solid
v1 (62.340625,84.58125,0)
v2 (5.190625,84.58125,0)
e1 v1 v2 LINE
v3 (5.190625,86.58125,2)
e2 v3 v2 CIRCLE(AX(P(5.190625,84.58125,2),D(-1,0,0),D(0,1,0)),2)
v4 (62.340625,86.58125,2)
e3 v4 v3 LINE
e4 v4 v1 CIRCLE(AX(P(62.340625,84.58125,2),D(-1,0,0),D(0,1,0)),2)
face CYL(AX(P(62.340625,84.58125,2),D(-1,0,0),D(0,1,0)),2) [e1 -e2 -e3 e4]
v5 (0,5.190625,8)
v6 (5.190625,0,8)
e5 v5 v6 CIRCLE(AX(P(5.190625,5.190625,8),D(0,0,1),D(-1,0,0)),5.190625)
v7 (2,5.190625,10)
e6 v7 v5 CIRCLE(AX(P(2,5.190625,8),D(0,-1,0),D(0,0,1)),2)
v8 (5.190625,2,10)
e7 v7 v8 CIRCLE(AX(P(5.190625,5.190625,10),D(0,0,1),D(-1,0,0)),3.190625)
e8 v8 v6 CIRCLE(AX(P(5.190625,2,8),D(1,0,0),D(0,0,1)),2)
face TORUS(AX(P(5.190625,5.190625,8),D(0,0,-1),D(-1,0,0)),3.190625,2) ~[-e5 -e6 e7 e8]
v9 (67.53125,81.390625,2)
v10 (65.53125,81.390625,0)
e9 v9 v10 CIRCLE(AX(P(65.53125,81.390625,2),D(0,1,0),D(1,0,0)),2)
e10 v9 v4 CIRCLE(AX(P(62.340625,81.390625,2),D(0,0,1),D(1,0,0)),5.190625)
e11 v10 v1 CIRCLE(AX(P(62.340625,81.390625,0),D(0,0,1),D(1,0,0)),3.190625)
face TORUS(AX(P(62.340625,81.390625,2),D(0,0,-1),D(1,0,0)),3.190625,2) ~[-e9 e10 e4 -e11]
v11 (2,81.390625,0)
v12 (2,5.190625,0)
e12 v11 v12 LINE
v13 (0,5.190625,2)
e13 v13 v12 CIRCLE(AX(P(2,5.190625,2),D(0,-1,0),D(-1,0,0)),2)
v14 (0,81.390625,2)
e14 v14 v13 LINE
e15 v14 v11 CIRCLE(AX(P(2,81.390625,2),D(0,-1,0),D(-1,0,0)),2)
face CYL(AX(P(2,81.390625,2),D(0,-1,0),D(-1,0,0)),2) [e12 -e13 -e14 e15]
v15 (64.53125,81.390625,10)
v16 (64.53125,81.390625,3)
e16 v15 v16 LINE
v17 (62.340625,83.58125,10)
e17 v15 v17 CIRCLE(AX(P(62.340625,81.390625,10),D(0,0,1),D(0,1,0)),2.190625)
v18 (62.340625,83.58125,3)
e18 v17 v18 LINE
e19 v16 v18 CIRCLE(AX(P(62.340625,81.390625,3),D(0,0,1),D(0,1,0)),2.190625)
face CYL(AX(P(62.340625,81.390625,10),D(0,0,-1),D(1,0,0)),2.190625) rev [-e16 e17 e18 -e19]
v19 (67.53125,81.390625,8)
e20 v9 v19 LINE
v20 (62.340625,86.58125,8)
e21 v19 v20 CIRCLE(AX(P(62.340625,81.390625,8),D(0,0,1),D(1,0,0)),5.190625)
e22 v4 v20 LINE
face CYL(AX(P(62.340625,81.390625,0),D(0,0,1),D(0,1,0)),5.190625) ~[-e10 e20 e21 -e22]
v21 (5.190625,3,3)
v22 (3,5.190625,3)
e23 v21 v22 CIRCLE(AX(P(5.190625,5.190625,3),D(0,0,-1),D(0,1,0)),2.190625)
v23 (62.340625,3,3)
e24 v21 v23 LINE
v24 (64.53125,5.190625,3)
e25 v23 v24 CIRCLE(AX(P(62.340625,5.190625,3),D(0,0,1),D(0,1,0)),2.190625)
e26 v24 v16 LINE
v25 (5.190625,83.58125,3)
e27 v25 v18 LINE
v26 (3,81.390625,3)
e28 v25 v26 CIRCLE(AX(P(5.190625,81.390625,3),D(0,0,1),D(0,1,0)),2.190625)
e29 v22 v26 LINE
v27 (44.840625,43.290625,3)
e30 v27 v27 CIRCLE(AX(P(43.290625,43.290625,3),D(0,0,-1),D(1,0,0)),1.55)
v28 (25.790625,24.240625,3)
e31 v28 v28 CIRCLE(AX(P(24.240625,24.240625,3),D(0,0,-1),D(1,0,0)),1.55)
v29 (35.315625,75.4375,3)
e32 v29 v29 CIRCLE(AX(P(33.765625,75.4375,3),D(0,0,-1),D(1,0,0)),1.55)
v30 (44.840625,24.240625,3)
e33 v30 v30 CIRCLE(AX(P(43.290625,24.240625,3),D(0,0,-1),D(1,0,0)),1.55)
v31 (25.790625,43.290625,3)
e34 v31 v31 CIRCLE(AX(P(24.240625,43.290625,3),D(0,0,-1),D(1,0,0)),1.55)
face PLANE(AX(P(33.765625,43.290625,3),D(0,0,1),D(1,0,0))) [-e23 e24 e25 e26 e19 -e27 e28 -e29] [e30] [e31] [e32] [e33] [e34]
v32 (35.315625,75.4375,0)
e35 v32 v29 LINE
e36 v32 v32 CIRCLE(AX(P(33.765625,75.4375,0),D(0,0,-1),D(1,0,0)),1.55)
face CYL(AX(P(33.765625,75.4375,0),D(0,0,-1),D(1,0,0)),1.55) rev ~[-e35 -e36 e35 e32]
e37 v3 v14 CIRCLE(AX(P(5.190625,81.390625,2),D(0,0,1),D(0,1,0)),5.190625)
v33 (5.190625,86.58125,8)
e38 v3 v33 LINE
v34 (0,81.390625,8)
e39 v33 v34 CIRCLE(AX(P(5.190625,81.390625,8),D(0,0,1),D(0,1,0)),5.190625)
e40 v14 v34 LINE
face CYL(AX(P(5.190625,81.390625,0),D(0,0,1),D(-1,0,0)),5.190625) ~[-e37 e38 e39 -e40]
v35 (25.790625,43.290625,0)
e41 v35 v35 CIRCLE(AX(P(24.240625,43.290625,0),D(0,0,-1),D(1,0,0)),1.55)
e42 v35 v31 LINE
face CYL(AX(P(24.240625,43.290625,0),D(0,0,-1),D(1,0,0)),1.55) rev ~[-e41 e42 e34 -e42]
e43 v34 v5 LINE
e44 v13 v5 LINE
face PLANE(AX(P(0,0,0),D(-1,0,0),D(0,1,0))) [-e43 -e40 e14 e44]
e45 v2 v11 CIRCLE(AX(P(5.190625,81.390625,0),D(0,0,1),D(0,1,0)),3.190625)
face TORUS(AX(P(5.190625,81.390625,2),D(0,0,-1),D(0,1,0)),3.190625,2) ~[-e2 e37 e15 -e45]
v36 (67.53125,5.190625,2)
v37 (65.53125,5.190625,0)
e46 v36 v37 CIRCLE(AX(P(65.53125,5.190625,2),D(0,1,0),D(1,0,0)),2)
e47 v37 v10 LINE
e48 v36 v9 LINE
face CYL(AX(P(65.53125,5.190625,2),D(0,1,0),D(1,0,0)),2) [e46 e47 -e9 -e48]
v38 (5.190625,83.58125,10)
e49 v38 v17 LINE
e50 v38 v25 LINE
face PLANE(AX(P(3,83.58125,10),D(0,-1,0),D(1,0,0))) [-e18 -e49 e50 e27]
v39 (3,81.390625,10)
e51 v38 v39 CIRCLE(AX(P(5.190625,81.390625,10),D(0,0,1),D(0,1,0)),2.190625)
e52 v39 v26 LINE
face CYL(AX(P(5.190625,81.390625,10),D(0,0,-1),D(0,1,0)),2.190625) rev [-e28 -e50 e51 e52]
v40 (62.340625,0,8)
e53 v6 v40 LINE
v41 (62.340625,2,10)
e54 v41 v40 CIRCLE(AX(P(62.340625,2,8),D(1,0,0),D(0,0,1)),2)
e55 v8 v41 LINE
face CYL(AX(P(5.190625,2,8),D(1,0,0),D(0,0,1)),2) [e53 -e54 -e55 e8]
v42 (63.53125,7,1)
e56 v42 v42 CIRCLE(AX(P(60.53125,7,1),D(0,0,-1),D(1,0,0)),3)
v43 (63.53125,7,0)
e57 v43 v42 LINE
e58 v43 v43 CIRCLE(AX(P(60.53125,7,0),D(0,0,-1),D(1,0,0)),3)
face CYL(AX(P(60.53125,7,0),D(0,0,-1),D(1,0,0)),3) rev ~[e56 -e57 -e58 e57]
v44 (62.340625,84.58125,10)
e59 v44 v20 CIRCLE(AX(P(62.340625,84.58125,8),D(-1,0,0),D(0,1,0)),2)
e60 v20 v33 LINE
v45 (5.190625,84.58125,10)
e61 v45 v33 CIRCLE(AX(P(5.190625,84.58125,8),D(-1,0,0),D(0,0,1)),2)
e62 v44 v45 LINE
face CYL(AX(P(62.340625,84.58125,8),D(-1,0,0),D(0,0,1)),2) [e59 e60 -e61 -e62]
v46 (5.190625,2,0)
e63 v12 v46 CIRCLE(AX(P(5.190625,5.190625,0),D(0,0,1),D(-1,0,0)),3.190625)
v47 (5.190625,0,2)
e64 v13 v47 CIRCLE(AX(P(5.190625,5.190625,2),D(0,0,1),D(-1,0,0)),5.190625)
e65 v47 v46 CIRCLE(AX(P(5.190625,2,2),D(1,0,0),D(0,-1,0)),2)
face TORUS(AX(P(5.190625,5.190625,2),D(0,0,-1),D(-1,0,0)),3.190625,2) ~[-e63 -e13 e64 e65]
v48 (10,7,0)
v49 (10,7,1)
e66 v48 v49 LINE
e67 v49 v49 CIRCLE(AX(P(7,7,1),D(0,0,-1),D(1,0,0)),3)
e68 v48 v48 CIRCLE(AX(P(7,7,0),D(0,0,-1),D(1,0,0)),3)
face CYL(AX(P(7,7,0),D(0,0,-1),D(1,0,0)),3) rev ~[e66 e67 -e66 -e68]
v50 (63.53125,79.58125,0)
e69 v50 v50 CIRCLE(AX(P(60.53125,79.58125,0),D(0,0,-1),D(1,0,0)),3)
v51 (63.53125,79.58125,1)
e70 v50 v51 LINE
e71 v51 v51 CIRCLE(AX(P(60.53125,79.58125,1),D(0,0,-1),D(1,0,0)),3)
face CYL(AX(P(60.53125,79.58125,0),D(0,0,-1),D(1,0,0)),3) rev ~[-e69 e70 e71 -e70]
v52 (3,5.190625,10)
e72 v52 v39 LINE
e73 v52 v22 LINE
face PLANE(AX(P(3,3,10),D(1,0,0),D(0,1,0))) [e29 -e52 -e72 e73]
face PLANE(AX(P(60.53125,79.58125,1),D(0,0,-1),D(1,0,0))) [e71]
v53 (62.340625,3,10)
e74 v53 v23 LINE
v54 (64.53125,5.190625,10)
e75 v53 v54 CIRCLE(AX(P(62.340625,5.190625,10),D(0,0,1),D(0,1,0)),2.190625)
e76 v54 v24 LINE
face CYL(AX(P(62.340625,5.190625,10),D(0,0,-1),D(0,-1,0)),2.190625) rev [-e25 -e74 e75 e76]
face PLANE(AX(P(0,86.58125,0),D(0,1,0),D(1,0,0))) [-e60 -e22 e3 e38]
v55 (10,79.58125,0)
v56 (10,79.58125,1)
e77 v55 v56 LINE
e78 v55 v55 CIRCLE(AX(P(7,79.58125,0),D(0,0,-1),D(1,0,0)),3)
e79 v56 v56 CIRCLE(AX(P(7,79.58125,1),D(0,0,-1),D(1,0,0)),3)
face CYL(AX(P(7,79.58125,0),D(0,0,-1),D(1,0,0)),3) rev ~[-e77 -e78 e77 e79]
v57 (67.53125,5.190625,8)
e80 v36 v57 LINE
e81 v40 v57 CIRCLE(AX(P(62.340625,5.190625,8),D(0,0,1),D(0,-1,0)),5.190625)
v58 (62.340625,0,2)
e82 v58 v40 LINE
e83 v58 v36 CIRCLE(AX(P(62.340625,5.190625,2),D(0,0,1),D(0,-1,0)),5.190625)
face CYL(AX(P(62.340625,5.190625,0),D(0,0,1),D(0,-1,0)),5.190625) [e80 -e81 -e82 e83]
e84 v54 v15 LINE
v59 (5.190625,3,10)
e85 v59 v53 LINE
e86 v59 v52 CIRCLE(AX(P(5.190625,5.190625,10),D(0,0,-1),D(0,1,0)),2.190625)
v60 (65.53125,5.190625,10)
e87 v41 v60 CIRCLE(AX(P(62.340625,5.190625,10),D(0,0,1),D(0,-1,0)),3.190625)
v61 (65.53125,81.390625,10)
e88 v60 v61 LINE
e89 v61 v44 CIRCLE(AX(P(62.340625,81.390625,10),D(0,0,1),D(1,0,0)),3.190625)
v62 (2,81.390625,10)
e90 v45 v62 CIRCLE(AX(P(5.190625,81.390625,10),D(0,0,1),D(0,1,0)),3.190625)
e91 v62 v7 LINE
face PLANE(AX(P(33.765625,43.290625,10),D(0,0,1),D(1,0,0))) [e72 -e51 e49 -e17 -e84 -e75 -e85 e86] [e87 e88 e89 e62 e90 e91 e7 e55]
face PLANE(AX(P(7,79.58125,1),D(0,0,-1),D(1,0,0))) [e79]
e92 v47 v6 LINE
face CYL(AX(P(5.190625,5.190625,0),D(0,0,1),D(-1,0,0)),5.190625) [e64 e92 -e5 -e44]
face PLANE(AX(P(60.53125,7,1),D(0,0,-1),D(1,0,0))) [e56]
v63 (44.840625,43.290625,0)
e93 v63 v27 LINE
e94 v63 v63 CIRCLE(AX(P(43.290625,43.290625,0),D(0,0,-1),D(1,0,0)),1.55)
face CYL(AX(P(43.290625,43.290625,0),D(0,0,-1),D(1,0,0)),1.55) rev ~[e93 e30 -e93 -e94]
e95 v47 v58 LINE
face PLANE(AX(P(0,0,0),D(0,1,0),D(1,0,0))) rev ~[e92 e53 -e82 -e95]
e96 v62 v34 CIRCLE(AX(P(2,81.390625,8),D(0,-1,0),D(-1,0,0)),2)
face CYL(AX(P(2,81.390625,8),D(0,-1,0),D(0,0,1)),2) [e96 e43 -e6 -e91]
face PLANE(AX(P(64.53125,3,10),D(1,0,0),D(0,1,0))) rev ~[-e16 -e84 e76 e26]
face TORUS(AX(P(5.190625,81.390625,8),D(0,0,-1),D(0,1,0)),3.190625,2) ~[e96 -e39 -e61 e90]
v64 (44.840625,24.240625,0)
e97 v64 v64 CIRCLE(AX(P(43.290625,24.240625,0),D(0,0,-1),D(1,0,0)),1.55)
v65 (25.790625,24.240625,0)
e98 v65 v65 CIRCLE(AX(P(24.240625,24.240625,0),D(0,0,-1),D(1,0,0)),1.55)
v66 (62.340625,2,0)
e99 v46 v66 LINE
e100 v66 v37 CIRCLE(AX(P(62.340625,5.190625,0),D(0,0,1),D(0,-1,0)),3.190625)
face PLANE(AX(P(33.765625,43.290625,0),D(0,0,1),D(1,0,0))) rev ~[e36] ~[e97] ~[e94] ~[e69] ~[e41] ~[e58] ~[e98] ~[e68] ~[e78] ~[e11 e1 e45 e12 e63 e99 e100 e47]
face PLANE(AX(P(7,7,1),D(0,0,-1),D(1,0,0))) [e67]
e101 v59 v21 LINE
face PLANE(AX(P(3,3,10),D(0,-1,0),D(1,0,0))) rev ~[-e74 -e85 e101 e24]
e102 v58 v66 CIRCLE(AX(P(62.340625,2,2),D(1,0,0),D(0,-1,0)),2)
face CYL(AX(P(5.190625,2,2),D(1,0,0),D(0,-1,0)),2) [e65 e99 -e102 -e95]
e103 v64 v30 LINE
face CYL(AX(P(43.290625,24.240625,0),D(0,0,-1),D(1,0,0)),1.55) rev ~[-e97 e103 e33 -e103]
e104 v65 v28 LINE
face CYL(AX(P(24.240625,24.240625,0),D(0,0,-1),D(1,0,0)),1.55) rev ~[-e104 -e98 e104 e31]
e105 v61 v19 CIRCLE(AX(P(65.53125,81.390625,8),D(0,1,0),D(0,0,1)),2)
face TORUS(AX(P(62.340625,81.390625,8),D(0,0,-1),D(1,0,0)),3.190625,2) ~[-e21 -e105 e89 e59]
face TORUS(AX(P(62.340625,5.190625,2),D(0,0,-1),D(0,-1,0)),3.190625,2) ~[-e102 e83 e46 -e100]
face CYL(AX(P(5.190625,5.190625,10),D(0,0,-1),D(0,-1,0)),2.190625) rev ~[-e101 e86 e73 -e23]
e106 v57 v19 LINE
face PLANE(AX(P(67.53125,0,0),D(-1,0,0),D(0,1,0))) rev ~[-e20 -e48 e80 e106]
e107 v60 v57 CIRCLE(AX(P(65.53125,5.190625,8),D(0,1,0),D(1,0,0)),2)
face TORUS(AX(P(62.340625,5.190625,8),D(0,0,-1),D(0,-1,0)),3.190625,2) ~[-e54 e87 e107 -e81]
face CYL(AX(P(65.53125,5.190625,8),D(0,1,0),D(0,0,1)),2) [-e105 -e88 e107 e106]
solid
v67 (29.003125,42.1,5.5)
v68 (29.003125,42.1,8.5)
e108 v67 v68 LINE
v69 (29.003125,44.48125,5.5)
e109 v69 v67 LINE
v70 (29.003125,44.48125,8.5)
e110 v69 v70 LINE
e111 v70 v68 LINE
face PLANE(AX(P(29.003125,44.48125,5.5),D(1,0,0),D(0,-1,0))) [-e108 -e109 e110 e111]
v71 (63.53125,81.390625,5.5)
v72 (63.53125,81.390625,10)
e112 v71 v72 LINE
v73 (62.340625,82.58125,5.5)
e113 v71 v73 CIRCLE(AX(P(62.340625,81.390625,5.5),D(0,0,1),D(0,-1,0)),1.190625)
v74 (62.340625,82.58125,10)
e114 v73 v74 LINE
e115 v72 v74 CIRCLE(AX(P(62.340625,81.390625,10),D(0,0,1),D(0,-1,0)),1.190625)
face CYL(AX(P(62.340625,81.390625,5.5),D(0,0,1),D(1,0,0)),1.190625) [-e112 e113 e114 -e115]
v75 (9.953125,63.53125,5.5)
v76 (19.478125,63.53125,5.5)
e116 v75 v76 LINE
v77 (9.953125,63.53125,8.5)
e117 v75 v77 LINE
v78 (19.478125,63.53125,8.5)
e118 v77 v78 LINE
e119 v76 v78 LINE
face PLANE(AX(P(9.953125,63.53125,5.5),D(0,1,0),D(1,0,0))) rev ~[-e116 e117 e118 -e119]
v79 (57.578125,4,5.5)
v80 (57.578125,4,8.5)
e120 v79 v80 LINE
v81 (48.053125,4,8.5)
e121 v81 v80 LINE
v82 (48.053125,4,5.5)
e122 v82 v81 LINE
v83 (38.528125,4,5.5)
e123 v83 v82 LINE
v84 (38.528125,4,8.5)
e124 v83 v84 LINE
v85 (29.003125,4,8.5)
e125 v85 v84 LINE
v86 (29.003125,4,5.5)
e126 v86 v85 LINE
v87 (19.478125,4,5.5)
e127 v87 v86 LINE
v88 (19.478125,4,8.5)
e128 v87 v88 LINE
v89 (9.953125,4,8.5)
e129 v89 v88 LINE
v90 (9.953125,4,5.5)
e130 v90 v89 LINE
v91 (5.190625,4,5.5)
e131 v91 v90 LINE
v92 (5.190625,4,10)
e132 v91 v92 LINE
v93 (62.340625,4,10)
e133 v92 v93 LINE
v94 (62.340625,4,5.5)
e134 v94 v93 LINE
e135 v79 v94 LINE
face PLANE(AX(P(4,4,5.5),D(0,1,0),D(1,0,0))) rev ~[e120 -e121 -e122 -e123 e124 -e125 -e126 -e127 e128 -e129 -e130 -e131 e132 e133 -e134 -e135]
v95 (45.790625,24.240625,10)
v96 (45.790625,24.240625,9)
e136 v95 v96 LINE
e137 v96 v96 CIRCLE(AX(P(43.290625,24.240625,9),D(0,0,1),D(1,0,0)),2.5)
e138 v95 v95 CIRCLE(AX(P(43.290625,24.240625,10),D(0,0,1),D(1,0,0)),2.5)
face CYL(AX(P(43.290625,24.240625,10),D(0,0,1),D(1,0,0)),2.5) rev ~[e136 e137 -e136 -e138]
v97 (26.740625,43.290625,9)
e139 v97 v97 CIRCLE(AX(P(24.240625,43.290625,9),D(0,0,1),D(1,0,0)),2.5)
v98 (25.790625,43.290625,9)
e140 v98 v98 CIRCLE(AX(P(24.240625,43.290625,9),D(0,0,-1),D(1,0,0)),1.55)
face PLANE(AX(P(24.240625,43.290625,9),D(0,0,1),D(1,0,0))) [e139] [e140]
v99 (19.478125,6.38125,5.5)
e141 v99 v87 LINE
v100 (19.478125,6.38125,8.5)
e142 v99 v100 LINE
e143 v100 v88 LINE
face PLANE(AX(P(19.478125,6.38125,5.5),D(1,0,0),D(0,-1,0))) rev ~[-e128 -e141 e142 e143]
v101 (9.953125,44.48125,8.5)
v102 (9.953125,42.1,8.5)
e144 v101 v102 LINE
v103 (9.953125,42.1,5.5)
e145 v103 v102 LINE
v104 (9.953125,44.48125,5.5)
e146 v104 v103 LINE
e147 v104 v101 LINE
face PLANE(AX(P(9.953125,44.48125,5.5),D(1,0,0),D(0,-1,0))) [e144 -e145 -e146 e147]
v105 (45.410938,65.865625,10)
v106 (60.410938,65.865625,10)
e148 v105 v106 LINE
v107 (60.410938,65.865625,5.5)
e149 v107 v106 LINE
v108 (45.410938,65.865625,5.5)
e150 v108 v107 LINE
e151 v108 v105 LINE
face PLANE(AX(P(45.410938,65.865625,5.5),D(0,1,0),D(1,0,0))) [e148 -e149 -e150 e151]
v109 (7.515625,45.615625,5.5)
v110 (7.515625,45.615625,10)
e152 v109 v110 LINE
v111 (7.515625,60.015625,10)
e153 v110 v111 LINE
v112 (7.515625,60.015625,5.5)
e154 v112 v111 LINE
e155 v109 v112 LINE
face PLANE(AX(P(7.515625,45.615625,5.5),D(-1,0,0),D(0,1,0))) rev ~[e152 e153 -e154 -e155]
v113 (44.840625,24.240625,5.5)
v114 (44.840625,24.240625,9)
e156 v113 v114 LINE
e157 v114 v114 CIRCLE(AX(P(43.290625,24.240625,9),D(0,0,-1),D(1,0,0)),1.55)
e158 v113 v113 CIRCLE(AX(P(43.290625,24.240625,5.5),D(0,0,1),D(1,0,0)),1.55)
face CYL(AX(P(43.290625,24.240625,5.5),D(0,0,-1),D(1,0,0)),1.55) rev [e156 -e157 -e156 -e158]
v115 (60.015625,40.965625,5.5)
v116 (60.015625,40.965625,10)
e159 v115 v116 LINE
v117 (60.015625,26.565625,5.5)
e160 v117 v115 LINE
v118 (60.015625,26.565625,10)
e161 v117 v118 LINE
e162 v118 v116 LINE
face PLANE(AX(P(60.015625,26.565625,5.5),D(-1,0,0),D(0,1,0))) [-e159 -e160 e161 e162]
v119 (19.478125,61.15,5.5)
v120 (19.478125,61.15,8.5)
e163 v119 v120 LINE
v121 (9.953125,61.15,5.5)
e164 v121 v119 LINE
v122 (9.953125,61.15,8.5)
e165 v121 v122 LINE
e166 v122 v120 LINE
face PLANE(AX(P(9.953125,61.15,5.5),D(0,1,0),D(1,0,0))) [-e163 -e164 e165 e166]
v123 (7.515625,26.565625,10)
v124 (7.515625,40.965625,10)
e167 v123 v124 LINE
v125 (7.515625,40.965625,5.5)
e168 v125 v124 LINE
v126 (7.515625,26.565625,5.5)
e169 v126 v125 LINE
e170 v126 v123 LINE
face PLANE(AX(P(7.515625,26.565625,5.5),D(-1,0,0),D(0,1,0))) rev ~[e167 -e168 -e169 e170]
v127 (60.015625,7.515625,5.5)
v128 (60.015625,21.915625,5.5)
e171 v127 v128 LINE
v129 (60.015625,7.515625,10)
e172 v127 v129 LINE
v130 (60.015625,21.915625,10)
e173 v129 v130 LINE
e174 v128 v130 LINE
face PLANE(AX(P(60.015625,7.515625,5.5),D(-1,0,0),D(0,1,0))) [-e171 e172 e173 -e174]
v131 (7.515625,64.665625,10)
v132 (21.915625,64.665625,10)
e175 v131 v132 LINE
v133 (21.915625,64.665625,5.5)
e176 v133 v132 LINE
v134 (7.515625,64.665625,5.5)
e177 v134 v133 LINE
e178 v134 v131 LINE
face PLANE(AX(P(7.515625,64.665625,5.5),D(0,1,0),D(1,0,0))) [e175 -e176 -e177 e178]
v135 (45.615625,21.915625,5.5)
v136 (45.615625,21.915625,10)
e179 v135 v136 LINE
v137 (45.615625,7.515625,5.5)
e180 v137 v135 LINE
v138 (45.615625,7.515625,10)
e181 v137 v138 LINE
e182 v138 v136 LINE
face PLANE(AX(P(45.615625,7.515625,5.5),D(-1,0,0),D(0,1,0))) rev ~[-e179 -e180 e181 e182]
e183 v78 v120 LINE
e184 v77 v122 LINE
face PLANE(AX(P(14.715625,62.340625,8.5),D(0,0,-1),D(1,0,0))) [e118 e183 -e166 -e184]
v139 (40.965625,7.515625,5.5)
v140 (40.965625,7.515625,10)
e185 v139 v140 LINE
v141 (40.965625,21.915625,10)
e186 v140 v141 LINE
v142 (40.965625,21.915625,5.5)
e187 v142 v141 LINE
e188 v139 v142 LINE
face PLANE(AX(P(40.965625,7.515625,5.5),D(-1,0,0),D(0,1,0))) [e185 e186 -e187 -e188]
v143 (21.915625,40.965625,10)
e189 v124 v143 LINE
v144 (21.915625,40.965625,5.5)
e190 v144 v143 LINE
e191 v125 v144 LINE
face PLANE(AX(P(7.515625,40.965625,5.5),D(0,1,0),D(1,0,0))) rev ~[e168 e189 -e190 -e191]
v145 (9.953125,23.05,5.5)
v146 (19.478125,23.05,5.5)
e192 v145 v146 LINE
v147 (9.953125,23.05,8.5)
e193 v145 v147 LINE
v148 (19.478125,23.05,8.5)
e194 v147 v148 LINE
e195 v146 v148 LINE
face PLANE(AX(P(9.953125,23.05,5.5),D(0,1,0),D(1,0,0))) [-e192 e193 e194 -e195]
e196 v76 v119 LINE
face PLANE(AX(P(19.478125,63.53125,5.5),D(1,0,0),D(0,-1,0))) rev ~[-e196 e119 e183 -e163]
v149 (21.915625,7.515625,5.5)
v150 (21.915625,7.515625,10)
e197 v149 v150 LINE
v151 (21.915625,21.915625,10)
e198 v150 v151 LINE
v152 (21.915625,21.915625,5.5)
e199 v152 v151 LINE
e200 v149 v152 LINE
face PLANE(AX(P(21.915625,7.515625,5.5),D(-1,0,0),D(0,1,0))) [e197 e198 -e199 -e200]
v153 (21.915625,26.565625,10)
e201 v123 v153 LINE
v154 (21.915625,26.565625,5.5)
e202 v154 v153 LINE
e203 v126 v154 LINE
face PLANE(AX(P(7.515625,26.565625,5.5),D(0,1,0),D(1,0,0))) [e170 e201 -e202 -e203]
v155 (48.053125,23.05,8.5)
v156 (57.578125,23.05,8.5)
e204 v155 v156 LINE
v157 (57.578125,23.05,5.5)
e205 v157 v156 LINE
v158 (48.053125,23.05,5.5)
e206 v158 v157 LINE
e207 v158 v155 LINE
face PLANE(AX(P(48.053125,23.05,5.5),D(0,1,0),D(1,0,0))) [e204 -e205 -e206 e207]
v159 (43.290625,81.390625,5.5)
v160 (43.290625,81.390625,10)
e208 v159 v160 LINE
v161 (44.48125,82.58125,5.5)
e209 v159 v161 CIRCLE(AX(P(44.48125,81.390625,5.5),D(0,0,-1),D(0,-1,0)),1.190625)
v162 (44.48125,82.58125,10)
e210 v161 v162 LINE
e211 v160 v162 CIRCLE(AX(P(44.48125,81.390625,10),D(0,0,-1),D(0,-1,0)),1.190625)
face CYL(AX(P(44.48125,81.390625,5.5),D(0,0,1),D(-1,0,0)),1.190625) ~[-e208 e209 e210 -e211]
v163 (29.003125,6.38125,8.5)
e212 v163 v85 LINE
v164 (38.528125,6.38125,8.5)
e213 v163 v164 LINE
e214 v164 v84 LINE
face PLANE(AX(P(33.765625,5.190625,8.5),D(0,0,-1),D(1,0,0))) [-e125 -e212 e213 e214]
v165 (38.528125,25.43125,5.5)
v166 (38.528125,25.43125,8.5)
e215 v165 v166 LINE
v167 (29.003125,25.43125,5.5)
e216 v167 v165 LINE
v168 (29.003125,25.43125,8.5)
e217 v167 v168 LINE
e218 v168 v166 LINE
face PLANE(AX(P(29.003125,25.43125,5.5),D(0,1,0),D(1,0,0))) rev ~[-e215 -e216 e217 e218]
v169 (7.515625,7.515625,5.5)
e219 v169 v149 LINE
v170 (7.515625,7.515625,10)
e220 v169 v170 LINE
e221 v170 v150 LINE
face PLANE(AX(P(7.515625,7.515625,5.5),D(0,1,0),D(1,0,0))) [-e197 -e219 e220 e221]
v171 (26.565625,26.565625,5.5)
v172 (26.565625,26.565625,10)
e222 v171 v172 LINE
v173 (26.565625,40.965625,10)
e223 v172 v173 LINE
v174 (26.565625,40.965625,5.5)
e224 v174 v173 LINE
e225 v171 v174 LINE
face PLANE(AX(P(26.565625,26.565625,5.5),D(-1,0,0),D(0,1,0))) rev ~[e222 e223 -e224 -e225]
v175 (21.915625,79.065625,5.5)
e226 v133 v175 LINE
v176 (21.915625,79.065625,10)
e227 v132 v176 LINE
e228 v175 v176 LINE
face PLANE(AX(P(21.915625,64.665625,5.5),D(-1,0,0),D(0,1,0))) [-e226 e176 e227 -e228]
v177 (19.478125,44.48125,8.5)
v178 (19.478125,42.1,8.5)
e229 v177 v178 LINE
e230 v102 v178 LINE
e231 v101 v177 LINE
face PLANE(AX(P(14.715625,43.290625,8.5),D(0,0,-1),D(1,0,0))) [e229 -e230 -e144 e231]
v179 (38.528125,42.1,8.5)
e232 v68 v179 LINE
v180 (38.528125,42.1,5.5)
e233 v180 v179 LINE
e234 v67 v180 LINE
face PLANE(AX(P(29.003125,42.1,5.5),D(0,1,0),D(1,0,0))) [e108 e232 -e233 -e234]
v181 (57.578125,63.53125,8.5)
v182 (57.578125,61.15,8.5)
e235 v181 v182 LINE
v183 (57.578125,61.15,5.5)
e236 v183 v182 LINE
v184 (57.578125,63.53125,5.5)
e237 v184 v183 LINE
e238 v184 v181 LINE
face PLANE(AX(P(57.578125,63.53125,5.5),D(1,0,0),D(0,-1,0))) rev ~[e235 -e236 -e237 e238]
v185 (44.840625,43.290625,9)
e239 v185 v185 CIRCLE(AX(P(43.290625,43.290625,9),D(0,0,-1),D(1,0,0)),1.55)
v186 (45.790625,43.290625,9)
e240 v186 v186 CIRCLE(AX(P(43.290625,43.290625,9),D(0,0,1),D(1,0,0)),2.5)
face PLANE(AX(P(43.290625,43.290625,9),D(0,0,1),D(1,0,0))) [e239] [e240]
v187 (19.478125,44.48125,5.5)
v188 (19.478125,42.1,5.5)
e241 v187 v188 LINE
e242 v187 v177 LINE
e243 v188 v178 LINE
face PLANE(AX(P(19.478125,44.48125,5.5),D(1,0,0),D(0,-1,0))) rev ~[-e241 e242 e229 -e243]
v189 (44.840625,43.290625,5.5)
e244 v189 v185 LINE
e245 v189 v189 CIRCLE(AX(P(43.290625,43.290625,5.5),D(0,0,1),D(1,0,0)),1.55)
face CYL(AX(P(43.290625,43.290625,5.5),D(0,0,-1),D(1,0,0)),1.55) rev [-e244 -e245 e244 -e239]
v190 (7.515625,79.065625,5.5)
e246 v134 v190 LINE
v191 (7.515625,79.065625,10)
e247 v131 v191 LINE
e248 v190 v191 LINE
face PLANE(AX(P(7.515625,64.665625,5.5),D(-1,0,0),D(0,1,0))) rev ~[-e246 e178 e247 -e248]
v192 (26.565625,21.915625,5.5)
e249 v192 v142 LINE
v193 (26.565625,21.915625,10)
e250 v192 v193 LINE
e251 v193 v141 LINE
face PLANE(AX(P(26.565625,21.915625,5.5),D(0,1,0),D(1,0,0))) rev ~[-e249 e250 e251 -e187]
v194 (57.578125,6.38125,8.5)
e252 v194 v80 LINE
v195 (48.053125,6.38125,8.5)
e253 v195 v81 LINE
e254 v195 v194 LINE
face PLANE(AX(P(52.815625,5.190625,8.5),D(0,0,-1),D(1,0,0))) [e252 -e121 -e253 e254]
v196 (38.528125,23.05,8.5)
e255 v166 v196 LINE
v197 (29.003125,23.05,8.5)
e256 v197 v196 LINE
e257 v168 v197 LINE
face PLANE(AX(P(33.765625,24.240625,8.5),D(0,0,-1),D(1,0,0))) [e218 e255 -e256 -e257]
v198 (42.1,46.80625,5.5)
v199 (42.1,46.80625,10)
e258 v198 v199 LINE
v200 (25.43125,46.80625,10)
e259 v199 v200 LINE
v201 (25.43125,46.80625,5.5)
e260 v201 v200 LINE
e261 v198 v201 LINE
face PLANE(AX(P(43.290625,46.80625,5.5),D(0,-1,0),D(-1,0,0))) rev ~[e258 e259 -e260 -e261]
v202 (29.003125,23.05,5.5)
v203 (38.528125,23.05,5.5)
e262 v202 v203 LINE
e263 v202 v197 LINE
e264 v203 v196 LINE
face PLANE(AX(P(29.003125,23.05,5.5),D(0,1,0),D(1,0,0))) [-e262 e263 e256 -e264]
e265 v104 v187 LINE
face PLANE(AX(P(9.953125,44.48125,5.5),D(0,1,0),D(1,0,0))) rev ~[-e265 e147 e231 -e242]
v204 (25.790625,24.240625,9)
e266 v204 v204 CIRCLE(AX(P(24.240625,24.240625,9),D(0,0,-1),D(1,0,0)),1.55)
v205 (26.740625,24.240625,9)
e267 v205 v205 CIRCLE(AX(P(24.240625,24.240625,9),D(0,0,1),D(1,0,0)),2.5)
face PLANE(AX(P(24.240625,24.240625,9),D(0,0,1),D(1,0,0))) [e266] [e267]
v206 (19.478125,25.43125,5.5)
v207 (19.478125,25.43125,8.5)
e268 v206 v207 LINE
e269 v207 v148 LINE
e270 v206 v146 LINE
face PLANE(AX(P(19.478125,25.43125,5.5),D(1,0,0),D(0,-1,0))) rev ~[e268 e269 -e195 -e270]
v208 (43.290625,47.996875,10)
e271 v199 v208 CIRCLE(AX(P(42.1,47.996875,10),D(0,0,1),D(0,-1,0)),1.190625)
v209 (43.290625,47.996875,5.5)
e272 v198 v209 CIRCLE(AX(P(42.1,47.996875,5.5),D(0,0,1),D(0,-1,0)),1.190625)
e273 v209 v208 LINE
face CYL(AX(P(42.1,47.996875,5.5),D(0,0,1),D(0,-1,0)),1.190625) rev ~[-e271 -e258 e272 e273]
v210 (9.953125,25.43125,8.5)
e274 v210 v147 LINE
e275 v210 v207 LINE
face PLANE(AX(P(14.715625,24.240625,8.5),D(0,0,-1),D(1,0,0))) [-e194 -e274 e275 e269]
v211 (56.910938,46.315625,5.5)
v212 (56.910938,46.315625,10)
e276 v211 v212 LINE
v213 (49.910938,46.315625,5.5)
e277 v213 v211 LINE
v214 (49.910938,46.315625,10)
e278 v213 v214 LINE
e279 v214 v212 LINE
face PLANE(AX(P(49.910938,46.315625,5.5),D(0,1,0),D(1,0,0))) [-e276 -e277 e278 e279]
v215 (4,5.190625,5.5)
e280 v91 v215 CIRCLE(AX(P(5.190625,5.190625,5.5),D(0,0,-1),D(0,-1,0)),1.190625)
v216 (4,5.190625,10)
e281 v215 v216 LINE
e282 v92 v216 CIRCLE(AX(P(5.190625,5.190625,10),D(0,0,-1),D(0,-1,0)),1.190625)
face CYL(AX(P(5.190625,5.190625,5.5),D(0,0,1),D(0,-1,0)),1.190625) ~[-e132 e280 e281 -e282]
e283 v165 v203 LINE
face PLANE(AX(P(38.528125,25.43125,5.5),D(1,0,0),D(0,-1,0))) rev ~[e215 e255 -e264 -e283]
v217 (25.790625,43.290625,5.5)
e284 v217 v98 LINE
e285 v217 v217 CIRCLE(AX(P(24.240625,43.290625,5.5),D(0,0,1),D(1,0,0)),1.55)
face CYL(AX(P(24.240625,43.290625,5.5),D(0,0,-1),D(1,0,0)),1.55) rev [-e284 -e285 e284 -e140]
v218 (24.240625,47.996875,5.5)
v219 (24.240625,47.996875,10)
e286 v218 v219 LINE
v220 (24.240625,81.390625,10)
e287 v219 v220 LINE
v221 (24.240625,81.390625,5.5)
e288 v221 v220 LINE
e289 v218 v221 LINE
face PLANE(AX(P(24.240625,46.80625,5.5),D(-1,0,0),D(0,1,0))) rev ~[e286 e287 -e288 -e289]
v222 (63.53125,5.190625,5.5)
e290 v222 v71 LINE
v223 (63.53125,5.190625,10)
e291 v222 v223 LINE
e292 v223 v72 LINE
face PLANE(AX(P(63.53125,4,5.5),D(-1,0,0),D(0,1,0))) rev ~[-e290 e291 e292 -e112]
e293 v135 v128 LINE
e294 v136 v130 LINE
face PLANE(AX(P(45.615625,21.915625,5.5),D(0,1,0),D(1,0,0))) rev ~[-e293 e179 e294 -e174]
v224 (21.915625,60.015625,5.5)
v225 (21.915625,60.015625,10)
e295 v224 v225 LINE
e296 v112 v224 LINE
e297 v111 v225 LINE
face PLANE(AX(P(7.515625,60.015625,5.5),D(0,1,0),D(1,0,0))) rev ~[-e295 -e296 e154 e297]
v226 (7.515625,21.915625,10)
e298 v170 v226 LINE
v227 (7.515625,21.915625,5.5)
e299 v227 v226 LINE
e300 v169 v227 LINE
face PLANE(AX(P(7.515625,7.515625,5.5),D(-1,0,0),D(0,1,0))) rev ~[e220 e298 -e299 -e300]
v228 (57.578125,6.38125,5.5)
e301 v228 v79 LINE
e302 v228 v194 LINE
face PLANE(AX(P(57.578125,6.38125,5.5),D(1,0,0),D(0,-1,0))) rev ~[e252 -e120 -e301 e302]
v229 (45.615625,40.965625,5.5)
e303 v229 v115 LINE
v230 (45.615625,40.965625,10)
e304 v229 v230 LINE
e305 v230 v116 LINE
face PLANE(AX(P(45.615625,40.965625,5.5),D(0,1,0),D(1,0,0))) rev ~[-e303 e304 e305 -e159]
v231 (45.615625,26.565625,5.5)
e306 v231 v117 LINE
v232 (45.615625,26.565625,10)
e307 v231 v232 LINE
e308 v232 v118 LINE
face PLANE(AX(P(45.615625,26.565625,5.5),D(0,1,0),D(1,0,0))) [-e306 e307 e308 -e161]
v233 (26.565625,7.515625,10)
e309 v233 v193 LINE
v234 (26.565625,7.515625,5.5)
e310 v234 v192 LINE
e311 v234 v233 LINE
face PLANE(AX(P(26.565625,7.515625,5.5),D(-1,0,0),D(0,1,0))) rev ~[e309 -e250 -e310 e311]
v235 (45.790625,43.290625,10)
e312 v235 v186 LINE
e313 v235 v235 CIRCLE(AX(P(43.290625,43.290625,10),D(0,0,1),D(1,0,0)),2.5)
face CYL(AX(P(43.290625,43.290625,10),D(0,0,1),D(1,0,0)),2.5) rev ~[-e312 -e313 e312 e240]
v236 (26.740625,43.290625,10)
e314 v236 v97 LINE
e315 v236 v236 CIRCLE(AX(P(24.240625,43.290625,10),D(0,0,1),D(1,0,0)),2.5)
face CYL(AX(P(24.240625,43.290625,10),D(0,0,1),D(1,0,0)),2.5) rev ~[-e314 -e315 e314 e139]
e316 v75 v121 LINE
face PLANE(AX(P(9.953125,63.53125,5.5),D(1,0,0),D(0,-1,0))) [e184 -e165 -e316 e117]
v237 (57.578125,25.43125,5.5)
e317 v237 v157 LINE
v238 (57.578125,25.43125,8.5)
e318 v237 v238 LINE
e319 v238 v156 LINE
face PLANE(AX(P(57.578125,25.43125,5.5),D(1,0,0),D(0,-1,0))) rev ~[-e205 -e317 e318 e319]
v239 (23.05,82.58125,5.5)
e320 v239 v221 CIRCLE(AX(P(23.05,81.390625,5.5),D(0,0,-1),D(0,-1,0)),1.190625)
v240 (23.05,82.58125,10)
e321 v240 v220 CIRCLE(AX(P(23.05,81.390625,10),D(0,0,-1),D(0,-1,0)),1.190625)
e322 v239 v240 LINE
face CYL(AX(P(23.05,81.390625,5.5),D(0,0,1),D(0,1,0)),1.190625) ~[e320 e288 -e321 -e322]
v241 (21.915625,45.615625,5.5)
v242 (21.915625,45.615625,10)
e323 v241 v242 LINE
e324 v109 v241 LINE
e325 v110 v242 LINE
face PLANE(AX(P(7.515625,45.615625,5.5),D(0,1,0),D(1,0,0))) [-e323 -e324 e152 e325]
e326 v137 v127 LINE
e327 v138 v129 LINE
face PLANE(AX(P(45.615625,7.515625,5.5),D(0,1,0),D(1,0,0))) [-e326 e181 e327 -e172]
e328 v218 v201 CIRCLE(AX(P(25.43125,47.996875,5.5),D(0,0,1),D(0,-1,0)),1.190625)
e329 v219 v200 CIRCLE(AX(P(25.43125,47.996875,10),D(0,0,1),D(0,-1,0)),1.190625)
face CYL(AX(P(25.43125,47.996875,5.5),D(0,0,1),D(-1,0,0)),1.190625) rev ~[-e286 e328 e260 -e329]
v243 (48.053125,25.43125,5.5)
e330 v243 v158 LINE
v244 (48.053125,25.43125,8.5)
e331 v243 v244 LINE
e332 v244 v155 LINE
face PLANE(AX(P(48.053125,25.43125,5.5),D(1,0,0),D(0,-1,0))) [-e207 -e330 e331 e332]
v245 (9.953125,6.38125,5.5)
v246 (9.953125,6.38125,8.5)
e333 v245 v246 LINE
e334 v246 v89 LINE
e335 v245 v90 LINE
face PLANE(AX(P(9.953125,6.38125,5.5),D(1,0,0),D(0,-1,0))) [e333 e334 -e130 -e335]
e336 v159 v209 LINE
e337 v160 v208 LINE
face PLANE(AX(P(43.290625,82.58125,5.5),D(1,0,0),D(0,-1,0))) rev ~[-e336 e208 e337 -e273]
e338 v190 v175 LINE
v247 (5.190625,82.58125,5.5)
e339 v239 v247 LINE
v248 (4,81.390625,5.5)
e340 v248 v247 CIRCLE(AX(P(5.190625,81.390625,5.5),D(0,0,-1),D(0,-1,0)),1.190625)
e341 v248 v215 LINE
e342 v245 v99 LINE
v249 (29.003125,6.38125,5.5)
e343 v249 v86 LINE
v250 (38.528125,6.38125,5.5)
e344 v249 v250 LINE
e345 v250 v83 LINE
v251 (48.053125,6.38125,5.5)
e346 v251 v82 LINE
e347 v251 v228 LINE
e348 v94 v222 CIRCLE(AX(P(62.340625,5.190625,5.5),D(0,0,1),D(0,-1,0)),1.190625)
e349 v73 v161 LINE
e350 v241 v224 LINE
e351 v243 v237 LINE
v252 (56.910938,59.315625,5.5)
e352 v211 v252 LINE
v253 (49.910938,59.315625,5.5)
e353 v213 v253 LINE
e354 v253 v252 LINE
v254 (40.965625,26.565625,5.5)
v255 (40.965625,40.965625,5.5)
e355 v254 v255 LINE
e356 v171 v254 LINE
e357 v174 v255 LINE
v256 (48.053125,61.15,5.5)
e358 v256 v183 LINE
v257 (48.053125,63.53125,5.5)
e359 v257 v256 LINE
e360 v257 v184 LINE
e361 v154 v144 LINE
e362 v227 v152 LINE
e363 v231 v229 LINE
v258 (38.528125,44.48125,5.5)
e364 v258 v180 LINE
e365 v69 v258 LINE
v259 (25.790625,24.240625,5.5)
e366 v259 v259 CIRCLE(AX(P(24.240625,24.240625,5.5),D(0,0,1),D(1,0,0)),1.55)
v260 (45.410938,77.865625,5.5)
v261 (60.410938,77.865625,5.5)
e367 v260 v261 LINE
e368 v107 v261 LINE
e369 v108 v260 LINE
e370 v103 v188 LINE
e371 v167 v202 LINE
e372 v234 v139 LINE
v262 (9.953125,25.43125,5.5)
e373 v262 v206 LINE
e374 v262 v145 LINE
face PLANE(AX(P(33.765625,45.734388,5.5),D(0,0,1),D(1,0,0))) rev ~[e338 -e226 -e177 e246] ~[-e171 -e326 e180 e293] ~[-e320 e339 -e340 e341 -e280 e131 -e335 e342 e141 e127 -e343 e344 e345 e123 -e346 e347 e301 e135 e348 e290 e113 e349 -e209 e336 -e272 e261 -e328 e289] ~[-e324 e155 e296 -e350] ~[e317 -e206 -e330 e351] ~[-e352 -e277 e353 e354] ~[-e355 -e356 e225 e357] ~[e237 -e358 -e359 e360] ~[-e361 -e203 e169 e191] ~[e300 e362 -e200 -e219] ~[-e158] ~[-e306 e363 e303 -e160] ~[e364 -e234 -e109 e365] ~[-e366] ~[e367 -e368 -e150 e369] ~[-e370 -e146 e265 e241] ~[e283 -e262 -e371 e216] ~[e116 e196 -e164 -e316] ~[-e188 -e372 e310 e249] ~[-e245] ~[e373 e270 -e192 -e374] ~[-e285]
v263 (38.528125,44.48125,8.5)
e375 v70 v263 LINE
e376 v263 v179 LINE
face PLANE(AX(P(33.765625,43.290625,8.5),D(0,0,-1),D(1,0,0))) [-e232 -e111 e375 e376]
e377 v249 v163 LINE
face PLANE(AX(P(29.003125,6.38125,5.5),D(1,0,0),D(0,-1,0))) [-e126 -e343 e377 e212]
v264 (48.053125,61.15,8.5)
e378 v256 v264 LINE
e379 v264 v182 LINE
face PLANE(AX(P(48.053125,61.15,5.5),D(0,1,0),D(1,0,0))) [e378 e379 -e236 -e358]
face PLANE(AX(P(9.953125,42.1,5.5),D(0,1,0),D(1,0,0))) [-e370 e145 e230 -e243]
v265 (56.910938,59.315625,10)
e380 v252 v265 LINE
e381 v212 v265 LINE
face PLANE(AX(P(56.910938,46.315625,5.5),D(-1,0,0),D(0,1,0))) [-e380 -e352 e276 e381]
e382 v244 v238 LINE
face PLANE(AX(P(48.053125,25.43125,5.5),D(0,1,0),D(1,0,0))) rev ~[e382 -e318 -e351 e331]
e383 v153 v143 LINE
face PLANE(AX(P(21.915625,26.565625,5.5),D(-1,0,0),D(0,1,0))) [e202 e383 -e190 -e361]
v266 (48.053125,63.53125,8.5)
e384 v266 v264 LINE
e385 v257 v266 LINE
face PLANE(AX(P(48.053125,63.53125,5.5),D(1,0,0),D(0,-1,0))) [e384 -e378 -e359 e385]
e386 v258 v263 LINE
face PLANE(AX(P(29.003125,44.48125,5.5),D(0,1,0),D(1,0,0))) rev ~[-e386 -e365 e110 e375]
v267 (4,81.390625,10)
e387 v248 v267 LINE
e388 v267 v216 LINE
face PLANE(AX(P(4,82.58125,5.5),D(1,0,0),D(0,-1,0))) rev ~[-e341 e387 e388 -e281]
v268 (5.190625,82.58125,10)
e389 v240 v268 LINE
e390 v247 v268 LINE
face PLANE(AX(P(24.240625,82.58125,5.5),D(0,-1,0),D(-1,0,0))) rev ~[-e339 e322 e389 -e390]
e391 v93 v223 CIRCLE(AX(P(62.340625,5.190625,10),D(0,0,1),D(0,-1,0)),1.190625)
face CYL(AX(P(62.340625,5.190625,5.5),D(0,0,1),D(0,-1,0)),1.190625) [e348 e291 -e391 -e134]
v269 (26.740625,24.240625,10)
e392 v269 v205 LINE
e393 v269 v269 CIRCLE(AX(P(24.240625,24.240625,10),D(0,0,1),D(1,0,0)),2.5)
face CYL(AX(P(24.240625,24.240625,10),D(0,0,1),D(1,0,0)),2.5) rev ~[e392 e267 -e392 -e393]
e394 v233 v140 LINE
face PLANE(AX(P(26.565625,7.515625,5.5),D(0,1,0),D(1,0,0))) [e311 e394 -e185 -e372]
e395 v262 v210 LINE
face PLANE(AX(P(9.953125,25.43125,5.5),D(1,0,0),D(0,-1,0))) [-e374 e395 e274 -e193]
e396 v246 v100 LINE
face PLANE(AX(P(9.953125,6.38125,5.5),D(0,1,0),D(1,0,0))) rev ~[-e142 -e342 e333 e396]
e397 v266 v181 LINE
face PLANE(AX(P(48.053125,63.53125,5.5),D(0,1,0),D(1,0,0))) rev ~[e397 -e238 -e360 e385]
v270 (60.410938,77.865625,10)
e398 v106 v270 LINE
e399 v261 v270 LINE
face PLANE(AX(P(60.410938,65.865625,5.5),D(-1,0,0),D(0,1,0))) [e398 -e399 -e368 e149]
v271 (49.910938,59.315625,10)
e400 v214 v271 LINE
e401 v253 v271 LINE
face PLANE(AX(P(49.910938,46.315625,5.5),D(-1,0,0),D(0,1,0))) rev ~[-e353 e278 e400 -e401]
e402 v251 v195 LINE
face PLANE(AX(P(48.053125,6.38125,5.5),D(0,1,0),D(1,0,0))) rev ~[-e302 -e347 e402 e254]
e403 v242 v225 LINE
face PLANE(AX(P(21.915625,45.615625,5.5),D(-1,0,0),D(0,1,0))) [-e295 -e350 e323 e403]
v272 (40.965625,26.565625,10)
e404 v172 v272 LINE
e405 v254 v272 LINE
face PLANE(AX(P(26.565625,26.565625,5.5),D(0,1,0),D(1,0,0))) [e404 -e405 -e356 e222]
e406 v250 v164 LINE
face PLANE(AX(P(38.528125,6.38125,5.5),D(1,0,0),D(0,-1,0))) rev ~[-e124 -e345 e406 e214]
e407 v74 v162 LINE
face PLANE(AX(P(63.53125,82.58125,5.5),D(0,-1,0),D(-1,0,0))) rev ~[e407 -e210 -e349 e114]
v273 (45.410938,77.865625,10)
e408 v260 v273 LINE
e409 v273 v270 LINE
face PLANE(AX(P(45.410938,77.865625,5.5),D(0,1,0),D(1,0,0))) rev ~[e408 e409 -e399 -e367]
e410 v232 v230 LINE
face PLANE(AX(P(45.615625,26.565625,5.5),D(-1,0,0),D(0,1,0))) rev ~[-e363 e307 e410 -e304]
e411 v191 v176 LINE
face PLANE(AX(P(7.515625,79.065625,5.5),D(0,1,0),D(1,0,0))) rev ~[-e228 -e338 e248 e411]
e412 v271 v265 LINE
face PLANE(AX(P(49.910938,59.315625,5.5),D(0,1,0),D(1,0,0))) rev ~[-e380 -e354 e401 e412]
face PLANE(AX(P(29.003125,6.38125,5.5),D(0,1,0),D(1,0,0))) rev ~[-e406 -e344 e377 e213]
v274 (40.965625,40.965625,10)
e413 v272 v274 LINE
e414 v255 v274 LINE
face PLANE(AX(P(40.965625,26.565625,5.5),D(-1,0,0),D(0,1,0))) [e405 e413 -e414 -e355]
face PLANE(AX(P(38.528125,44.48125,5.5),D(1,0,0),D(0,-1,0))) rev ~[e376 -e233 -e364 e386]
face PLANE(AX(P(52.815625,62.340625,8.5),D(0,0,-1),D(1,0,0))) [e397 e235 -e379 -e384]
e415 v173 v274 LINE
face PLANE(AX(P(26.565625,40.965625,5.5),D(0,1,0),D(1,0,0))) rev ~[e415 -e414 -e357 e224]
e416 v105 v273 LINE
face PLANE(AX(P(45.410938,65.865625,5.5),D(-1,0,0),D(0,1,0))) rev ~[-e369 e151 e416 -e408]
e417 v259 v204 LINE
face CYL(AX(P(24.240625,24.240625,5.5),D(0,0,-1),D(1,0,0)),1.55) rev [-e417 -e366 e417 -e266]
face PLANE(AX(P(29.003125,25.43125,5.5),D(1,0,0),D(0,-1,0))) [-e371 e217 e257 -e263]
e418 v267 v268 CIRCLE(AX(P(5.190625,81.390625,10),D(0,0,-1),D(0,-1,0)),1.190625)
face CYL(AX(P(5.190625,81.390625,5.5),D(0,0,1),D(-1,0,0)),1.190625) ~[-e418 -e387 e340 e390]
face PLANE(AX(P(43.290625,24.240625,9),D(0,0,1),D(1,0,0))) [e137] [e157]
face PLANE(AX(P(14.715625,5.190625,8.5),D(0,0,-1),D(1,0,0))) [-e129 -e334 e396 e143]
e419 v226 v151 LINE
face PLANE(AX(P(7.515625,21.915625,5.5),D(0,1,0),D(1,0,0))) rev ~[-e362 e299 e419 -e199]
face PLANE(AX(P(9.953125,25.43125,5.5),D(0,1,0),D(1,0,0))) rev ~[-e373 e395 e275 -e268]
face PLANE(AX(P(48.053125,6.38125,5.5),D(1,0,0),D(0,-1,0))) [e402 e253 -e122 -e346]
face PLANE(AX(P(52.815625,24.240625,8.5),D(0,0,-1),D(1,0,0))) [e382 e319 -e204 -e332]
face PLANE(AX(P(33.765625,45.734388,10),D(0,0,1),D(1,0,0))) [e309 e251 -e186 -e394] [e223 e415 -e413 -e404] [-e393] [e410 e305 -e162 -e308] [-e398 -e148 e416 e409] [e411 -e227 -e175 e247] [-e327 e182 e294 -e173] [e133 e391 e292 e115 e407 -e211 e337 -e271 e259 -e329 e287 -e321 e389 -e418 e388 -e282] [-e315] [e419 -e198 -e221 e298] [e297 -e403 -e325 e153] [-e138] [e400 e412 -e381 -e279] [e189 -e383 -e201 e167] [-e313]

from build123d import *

# Parameters (mm, degrees)
SKETCH_R        = 1.55
SKETCH_W        = 14.4
SKETCH_H        = 14.4
SKETCH_W_2      = 7
SKETCH_H_2      = 13
SKETCH_W_3      = 15
SKETCH_H_3      = 12
PAD_DEPTH       = 4.5
SKETCH001_W     = 9.525
SKETCH001_H     = 2.38125
POCKET_DEPTH    = 3
SKETCH002_R     = 2.5
POCKET001_DEPTH = 1
FILLET_R        = 1.190625
SKETCH003_W     = 67.53125
SKETCH003_H     = 86.58125
PAD001_DEPTH    = 10
SKETCH004_W     = 61.53125
SKETCH004_H     = 80.58125
POCKET002_DEPTH = 7
SKETCH005_R     = 1.55
POCKET003_DEPTH = 3
FILLET001_R     = 2.190625
FILLET002_R     = 5.190625
FILLET003_R     = 2
SKETCH006_R     = 3
POCKET004_DEPTH = 1


with BuildPart() as plate:
    # Sketch → Pad (new body)
    with BuildSketch(Plane.XY):
        Polygon((0, 0), (59.53125, 0), (59.53125, 78.58125), (39.290625, 78.58125), (39.290625, 42.80625), (20.240625, 42.80625), (20.240625, 78.58125), (0, 78.58125), align=None)
        with Locations((20.240625, 20.240625)):
            Circle(SKETCH_R, mode=Mode.SUBTRACT)
        with Locations((39.290625, 20.240625)):
            Circle(SKETCH_R, mode=Mode.SUBTRACT)
        with Locations((20.240625, 39.290625)):
            Circle(SKETCH_R, mode=Mode.SUBTRACT)
        with Locations((39.290625, 39.290625)):
            Circle(SKETCH_R, mode=Mode.SUBTRACT)
        with Locations((10.715625, 10.715625)):
            Rectangle(SKETCH_W, SKETCH_H, mode=Mode.SUBTRACT)
        with Locations((29.765625, 10.715625)):
            Rectangle(SKETCH_W, SKETCH_H, mode=Mode.SUBTRACT)
        with Locations((48.815625, 10.715625)):
            Rectangle(SKETCH_W, SKETCH_H, mode=Mode.SUBTRACT)
        with Locations((10.715625, 29.765625)):
            Rectangle(SKETCH_W, SKETCH_H, mode=Mode.SUBTRACT)
        with Locations((29.765625, 29.765625)):
            Rectangle(SKETCH_W, SKETCH_H, mode=Mode.SUBTRACT)
        with Locations((48.815625, 29.765625)):
            Rectangle(SKETCH_W, SKETCH_H, mode=Mode.SUBTRACT)
        with Locations((10.715625, 48.815625)):
            Rectangle(SKETCH_W, SKETCH_H, mode=Mode.SUBTRACT)
        with Locations((10.715625, 67.865625)):
            Rectangle(SKETCH_W, SKETCH_H, mode=Mode.SUBTRACT)
        with Locations((49.410938, 48.815625)):
            Rectangle(SKETCH_W_2, SKETCH_H_2, mode=Mode.SUBTRACT)
        with Locations((48.910938, 67.865625)):
            Rectangle(SKETCH_W_3, SKETCH_H_3, mode=Mode.SUBTRACT)
    extrude(amount=PAD_DEPTH)

    # Sketch001 (on Face53 of Pad) → Pocket (cut)
    with BuildSketch(Plane(origin=(0, 0, 0), x_dir=(1, 0, 0), z_dir=(0, 0, -1))):
        with Locations((10.715625, -1.190625)):
            Rectangle(SKETCH001_W, SKETCH001_H)
        with Locations((10.715625, -20.240625)):
            Rectangle(SKETCH001_W, SKETCH001_H)
        with Locations((10.715625, -39.290625)):
            Rectangle(SKETCH001_W, SKETCH001_H)
        with Locations((10.715625, -58.340625)):
            Rectangle(SKETCH001_W, SKETCH001_H)
        with Locations((29.765625, -1.190625)):
            Rectangle(SKETCH001_W, SKETCH001_H)
        with Locations((29.765625, -20.240625)):
            Rectangle(SKETCH001_W, SKETCH001_H)
        with Locations((29.765625, -39.290625)):
            Rectangle(SKETCH001_W, SKETCH001_H)
        with Locations((48.815625, -1.190625)):
            Rectangle(SKETCH001_W, SKETCH001_H)
        with Locations((48.815625, -20.240625)):
            Rectangle(SKETCH001_W, SKETCH001_H)
        with Locations((48.815625, -58.340625)):
            Rectangle(SKETCH001_W, SKETCH001_H)
    extrude(amount=-POCKET_DEPTH, mode=Mode.SUBTRACT)

    # Sketch002 (on Face5 of Pocket) → Pocket001 (cut)
    with BuildSketch(Plane.XY.offset(4.5)):
        with Locations((20.240625, 20.240625)):
            Circle(SKETCH002_R)
        with Locations((39.290625, 20.240625)):
            Circle(SKETCH002_R)
        with Locations((39.290625, 39.290625)):
            Circle(SKETCH002_R)
        with Locations((20.240625, 39.290625)):
            Circle(SKETCH002_R)
    extrude(amount=-POCKET001_DEPTH, mode=Mode.SUBTRACT)

    # Fillet
    fillet_edges = [plate.edges().sort_by_distance(p)[0] for p in [
        (0, 0, 2.25),
        (59.53125, 0, 2.25),
        (0, 78.58125, 2.25),
        (39.290625, 78.58125, 2.25),
        (20.240625, 78.58125, 2.25),
        (59.53125, 78.58125, 2.25),
        (20.240625, 42.80625, 2.25),
        (39.290625, 42.80625, 2.25),
    ]]
    fillet(fillet_edges, radius=FILLET_R)


with BuildPart() as plate_1:
    # Body placement: moved
    add(plate.part.moved(Location((4, 4, 5.5))))


with BuildPart() as body001:
    # Sketch003 → Pad001 (new body)
    with BuildSketch(Plane.XY):
        with Locations((33.765625, 43.290625)):
            Rectangle(SKETCH003_W, SKETCH003_H)
    extrude(amount=PAD001_DEPTH)

    # Sketch004 (on Face6 of Pad001) → Pocket002 (cut)
    with BuildSketch(Plane.XY.offset(10)):
        with Locations((33.765625, 43.290625)):
            Rectangle(SKETCH004_W, SKETCH004_H)
    extrude(amount=-POCKET002_DEPTH, mode=Mode.SUBTRACT)

    # Sketch005 (on Face4 of Pocket002) → Pocket003 (cut)
    with BuildSketch(Plane(origin=(0, 0, 0), x_dir=(1, 0, 0), z_dir=(0, 0, -1))):
        with Locations((43.290625, -43.290625)):
            Circle(SKETCH005_R)
        with Locations((24.240625, -43.290625)):
            Circle(SKETCH005_R)
        with Locations((24.240625, -24.240625)):
            Circle(SKETCH005_R)
        with Locations((43.290625, -24.240625)):
            Circle(SKETCH005_R)
        with Locations((33.765625, -75.4375)):
            Circle(SKETCH005_R)
    extrude(amount=-POCKET003_DEPTH, mode=Mode.SUBTRACT)

    # Fillet001
    fillet001_edges = [body001.edges().sort_by_distance(p)[0] for p in [
        (64.53125, 83.58125, 6.5),
        (3, 83.58125, 6.5),
        (3, 3, 6.5),
        (64.53125, 3, 6.5),
    ]]
    fillet(fillet001_edges, radius=FILLET001_R)

    # Fillet002
    fillet002_edges = [body001.edges().sort_by_distance(p)[0] for p in [
        (0, 0, 5),
        (0, 86.58125, 5),
        (67.53125, 0, 5),
        (67.53125, 86.58125, 5),
    ]]
    fillet(fillet002_edges, radius=FILLET002_R)

    # Fillet003
    fillet003_edges = [body001.edges().sort_by_distance(p)[0] for p in [
        (33.765625, 0, 10),
        (33.765625, 0, 0),
    ]]
    fillet(fillet003_edges, radius=FILLET003_R)

    # Sketch006 (on Face40 of Fillet003) → Pocket004 (cut)
    with BuildSketch(Plane(origin=(0, 0, 0), x_dir=(1, 0, 0), z_dir=(0, 0, -1))):
        with Locations((60.53125, -7)):
            Circle(SKETCH006_R)
        with Locations((7, -7)):
            Circle(SKETCH006_R)
        with Locations((7, -79.58125)):
            Circle(SKETCH006_R)
        with Locations((60.53125, -79.58125)):
            Circle(SKETCH006_R)
    extrude(amount=-POCKET004_DEPTH, mode=Mode.SUBTRACT)


solid = Compound([plate_1.part, body001.part])
